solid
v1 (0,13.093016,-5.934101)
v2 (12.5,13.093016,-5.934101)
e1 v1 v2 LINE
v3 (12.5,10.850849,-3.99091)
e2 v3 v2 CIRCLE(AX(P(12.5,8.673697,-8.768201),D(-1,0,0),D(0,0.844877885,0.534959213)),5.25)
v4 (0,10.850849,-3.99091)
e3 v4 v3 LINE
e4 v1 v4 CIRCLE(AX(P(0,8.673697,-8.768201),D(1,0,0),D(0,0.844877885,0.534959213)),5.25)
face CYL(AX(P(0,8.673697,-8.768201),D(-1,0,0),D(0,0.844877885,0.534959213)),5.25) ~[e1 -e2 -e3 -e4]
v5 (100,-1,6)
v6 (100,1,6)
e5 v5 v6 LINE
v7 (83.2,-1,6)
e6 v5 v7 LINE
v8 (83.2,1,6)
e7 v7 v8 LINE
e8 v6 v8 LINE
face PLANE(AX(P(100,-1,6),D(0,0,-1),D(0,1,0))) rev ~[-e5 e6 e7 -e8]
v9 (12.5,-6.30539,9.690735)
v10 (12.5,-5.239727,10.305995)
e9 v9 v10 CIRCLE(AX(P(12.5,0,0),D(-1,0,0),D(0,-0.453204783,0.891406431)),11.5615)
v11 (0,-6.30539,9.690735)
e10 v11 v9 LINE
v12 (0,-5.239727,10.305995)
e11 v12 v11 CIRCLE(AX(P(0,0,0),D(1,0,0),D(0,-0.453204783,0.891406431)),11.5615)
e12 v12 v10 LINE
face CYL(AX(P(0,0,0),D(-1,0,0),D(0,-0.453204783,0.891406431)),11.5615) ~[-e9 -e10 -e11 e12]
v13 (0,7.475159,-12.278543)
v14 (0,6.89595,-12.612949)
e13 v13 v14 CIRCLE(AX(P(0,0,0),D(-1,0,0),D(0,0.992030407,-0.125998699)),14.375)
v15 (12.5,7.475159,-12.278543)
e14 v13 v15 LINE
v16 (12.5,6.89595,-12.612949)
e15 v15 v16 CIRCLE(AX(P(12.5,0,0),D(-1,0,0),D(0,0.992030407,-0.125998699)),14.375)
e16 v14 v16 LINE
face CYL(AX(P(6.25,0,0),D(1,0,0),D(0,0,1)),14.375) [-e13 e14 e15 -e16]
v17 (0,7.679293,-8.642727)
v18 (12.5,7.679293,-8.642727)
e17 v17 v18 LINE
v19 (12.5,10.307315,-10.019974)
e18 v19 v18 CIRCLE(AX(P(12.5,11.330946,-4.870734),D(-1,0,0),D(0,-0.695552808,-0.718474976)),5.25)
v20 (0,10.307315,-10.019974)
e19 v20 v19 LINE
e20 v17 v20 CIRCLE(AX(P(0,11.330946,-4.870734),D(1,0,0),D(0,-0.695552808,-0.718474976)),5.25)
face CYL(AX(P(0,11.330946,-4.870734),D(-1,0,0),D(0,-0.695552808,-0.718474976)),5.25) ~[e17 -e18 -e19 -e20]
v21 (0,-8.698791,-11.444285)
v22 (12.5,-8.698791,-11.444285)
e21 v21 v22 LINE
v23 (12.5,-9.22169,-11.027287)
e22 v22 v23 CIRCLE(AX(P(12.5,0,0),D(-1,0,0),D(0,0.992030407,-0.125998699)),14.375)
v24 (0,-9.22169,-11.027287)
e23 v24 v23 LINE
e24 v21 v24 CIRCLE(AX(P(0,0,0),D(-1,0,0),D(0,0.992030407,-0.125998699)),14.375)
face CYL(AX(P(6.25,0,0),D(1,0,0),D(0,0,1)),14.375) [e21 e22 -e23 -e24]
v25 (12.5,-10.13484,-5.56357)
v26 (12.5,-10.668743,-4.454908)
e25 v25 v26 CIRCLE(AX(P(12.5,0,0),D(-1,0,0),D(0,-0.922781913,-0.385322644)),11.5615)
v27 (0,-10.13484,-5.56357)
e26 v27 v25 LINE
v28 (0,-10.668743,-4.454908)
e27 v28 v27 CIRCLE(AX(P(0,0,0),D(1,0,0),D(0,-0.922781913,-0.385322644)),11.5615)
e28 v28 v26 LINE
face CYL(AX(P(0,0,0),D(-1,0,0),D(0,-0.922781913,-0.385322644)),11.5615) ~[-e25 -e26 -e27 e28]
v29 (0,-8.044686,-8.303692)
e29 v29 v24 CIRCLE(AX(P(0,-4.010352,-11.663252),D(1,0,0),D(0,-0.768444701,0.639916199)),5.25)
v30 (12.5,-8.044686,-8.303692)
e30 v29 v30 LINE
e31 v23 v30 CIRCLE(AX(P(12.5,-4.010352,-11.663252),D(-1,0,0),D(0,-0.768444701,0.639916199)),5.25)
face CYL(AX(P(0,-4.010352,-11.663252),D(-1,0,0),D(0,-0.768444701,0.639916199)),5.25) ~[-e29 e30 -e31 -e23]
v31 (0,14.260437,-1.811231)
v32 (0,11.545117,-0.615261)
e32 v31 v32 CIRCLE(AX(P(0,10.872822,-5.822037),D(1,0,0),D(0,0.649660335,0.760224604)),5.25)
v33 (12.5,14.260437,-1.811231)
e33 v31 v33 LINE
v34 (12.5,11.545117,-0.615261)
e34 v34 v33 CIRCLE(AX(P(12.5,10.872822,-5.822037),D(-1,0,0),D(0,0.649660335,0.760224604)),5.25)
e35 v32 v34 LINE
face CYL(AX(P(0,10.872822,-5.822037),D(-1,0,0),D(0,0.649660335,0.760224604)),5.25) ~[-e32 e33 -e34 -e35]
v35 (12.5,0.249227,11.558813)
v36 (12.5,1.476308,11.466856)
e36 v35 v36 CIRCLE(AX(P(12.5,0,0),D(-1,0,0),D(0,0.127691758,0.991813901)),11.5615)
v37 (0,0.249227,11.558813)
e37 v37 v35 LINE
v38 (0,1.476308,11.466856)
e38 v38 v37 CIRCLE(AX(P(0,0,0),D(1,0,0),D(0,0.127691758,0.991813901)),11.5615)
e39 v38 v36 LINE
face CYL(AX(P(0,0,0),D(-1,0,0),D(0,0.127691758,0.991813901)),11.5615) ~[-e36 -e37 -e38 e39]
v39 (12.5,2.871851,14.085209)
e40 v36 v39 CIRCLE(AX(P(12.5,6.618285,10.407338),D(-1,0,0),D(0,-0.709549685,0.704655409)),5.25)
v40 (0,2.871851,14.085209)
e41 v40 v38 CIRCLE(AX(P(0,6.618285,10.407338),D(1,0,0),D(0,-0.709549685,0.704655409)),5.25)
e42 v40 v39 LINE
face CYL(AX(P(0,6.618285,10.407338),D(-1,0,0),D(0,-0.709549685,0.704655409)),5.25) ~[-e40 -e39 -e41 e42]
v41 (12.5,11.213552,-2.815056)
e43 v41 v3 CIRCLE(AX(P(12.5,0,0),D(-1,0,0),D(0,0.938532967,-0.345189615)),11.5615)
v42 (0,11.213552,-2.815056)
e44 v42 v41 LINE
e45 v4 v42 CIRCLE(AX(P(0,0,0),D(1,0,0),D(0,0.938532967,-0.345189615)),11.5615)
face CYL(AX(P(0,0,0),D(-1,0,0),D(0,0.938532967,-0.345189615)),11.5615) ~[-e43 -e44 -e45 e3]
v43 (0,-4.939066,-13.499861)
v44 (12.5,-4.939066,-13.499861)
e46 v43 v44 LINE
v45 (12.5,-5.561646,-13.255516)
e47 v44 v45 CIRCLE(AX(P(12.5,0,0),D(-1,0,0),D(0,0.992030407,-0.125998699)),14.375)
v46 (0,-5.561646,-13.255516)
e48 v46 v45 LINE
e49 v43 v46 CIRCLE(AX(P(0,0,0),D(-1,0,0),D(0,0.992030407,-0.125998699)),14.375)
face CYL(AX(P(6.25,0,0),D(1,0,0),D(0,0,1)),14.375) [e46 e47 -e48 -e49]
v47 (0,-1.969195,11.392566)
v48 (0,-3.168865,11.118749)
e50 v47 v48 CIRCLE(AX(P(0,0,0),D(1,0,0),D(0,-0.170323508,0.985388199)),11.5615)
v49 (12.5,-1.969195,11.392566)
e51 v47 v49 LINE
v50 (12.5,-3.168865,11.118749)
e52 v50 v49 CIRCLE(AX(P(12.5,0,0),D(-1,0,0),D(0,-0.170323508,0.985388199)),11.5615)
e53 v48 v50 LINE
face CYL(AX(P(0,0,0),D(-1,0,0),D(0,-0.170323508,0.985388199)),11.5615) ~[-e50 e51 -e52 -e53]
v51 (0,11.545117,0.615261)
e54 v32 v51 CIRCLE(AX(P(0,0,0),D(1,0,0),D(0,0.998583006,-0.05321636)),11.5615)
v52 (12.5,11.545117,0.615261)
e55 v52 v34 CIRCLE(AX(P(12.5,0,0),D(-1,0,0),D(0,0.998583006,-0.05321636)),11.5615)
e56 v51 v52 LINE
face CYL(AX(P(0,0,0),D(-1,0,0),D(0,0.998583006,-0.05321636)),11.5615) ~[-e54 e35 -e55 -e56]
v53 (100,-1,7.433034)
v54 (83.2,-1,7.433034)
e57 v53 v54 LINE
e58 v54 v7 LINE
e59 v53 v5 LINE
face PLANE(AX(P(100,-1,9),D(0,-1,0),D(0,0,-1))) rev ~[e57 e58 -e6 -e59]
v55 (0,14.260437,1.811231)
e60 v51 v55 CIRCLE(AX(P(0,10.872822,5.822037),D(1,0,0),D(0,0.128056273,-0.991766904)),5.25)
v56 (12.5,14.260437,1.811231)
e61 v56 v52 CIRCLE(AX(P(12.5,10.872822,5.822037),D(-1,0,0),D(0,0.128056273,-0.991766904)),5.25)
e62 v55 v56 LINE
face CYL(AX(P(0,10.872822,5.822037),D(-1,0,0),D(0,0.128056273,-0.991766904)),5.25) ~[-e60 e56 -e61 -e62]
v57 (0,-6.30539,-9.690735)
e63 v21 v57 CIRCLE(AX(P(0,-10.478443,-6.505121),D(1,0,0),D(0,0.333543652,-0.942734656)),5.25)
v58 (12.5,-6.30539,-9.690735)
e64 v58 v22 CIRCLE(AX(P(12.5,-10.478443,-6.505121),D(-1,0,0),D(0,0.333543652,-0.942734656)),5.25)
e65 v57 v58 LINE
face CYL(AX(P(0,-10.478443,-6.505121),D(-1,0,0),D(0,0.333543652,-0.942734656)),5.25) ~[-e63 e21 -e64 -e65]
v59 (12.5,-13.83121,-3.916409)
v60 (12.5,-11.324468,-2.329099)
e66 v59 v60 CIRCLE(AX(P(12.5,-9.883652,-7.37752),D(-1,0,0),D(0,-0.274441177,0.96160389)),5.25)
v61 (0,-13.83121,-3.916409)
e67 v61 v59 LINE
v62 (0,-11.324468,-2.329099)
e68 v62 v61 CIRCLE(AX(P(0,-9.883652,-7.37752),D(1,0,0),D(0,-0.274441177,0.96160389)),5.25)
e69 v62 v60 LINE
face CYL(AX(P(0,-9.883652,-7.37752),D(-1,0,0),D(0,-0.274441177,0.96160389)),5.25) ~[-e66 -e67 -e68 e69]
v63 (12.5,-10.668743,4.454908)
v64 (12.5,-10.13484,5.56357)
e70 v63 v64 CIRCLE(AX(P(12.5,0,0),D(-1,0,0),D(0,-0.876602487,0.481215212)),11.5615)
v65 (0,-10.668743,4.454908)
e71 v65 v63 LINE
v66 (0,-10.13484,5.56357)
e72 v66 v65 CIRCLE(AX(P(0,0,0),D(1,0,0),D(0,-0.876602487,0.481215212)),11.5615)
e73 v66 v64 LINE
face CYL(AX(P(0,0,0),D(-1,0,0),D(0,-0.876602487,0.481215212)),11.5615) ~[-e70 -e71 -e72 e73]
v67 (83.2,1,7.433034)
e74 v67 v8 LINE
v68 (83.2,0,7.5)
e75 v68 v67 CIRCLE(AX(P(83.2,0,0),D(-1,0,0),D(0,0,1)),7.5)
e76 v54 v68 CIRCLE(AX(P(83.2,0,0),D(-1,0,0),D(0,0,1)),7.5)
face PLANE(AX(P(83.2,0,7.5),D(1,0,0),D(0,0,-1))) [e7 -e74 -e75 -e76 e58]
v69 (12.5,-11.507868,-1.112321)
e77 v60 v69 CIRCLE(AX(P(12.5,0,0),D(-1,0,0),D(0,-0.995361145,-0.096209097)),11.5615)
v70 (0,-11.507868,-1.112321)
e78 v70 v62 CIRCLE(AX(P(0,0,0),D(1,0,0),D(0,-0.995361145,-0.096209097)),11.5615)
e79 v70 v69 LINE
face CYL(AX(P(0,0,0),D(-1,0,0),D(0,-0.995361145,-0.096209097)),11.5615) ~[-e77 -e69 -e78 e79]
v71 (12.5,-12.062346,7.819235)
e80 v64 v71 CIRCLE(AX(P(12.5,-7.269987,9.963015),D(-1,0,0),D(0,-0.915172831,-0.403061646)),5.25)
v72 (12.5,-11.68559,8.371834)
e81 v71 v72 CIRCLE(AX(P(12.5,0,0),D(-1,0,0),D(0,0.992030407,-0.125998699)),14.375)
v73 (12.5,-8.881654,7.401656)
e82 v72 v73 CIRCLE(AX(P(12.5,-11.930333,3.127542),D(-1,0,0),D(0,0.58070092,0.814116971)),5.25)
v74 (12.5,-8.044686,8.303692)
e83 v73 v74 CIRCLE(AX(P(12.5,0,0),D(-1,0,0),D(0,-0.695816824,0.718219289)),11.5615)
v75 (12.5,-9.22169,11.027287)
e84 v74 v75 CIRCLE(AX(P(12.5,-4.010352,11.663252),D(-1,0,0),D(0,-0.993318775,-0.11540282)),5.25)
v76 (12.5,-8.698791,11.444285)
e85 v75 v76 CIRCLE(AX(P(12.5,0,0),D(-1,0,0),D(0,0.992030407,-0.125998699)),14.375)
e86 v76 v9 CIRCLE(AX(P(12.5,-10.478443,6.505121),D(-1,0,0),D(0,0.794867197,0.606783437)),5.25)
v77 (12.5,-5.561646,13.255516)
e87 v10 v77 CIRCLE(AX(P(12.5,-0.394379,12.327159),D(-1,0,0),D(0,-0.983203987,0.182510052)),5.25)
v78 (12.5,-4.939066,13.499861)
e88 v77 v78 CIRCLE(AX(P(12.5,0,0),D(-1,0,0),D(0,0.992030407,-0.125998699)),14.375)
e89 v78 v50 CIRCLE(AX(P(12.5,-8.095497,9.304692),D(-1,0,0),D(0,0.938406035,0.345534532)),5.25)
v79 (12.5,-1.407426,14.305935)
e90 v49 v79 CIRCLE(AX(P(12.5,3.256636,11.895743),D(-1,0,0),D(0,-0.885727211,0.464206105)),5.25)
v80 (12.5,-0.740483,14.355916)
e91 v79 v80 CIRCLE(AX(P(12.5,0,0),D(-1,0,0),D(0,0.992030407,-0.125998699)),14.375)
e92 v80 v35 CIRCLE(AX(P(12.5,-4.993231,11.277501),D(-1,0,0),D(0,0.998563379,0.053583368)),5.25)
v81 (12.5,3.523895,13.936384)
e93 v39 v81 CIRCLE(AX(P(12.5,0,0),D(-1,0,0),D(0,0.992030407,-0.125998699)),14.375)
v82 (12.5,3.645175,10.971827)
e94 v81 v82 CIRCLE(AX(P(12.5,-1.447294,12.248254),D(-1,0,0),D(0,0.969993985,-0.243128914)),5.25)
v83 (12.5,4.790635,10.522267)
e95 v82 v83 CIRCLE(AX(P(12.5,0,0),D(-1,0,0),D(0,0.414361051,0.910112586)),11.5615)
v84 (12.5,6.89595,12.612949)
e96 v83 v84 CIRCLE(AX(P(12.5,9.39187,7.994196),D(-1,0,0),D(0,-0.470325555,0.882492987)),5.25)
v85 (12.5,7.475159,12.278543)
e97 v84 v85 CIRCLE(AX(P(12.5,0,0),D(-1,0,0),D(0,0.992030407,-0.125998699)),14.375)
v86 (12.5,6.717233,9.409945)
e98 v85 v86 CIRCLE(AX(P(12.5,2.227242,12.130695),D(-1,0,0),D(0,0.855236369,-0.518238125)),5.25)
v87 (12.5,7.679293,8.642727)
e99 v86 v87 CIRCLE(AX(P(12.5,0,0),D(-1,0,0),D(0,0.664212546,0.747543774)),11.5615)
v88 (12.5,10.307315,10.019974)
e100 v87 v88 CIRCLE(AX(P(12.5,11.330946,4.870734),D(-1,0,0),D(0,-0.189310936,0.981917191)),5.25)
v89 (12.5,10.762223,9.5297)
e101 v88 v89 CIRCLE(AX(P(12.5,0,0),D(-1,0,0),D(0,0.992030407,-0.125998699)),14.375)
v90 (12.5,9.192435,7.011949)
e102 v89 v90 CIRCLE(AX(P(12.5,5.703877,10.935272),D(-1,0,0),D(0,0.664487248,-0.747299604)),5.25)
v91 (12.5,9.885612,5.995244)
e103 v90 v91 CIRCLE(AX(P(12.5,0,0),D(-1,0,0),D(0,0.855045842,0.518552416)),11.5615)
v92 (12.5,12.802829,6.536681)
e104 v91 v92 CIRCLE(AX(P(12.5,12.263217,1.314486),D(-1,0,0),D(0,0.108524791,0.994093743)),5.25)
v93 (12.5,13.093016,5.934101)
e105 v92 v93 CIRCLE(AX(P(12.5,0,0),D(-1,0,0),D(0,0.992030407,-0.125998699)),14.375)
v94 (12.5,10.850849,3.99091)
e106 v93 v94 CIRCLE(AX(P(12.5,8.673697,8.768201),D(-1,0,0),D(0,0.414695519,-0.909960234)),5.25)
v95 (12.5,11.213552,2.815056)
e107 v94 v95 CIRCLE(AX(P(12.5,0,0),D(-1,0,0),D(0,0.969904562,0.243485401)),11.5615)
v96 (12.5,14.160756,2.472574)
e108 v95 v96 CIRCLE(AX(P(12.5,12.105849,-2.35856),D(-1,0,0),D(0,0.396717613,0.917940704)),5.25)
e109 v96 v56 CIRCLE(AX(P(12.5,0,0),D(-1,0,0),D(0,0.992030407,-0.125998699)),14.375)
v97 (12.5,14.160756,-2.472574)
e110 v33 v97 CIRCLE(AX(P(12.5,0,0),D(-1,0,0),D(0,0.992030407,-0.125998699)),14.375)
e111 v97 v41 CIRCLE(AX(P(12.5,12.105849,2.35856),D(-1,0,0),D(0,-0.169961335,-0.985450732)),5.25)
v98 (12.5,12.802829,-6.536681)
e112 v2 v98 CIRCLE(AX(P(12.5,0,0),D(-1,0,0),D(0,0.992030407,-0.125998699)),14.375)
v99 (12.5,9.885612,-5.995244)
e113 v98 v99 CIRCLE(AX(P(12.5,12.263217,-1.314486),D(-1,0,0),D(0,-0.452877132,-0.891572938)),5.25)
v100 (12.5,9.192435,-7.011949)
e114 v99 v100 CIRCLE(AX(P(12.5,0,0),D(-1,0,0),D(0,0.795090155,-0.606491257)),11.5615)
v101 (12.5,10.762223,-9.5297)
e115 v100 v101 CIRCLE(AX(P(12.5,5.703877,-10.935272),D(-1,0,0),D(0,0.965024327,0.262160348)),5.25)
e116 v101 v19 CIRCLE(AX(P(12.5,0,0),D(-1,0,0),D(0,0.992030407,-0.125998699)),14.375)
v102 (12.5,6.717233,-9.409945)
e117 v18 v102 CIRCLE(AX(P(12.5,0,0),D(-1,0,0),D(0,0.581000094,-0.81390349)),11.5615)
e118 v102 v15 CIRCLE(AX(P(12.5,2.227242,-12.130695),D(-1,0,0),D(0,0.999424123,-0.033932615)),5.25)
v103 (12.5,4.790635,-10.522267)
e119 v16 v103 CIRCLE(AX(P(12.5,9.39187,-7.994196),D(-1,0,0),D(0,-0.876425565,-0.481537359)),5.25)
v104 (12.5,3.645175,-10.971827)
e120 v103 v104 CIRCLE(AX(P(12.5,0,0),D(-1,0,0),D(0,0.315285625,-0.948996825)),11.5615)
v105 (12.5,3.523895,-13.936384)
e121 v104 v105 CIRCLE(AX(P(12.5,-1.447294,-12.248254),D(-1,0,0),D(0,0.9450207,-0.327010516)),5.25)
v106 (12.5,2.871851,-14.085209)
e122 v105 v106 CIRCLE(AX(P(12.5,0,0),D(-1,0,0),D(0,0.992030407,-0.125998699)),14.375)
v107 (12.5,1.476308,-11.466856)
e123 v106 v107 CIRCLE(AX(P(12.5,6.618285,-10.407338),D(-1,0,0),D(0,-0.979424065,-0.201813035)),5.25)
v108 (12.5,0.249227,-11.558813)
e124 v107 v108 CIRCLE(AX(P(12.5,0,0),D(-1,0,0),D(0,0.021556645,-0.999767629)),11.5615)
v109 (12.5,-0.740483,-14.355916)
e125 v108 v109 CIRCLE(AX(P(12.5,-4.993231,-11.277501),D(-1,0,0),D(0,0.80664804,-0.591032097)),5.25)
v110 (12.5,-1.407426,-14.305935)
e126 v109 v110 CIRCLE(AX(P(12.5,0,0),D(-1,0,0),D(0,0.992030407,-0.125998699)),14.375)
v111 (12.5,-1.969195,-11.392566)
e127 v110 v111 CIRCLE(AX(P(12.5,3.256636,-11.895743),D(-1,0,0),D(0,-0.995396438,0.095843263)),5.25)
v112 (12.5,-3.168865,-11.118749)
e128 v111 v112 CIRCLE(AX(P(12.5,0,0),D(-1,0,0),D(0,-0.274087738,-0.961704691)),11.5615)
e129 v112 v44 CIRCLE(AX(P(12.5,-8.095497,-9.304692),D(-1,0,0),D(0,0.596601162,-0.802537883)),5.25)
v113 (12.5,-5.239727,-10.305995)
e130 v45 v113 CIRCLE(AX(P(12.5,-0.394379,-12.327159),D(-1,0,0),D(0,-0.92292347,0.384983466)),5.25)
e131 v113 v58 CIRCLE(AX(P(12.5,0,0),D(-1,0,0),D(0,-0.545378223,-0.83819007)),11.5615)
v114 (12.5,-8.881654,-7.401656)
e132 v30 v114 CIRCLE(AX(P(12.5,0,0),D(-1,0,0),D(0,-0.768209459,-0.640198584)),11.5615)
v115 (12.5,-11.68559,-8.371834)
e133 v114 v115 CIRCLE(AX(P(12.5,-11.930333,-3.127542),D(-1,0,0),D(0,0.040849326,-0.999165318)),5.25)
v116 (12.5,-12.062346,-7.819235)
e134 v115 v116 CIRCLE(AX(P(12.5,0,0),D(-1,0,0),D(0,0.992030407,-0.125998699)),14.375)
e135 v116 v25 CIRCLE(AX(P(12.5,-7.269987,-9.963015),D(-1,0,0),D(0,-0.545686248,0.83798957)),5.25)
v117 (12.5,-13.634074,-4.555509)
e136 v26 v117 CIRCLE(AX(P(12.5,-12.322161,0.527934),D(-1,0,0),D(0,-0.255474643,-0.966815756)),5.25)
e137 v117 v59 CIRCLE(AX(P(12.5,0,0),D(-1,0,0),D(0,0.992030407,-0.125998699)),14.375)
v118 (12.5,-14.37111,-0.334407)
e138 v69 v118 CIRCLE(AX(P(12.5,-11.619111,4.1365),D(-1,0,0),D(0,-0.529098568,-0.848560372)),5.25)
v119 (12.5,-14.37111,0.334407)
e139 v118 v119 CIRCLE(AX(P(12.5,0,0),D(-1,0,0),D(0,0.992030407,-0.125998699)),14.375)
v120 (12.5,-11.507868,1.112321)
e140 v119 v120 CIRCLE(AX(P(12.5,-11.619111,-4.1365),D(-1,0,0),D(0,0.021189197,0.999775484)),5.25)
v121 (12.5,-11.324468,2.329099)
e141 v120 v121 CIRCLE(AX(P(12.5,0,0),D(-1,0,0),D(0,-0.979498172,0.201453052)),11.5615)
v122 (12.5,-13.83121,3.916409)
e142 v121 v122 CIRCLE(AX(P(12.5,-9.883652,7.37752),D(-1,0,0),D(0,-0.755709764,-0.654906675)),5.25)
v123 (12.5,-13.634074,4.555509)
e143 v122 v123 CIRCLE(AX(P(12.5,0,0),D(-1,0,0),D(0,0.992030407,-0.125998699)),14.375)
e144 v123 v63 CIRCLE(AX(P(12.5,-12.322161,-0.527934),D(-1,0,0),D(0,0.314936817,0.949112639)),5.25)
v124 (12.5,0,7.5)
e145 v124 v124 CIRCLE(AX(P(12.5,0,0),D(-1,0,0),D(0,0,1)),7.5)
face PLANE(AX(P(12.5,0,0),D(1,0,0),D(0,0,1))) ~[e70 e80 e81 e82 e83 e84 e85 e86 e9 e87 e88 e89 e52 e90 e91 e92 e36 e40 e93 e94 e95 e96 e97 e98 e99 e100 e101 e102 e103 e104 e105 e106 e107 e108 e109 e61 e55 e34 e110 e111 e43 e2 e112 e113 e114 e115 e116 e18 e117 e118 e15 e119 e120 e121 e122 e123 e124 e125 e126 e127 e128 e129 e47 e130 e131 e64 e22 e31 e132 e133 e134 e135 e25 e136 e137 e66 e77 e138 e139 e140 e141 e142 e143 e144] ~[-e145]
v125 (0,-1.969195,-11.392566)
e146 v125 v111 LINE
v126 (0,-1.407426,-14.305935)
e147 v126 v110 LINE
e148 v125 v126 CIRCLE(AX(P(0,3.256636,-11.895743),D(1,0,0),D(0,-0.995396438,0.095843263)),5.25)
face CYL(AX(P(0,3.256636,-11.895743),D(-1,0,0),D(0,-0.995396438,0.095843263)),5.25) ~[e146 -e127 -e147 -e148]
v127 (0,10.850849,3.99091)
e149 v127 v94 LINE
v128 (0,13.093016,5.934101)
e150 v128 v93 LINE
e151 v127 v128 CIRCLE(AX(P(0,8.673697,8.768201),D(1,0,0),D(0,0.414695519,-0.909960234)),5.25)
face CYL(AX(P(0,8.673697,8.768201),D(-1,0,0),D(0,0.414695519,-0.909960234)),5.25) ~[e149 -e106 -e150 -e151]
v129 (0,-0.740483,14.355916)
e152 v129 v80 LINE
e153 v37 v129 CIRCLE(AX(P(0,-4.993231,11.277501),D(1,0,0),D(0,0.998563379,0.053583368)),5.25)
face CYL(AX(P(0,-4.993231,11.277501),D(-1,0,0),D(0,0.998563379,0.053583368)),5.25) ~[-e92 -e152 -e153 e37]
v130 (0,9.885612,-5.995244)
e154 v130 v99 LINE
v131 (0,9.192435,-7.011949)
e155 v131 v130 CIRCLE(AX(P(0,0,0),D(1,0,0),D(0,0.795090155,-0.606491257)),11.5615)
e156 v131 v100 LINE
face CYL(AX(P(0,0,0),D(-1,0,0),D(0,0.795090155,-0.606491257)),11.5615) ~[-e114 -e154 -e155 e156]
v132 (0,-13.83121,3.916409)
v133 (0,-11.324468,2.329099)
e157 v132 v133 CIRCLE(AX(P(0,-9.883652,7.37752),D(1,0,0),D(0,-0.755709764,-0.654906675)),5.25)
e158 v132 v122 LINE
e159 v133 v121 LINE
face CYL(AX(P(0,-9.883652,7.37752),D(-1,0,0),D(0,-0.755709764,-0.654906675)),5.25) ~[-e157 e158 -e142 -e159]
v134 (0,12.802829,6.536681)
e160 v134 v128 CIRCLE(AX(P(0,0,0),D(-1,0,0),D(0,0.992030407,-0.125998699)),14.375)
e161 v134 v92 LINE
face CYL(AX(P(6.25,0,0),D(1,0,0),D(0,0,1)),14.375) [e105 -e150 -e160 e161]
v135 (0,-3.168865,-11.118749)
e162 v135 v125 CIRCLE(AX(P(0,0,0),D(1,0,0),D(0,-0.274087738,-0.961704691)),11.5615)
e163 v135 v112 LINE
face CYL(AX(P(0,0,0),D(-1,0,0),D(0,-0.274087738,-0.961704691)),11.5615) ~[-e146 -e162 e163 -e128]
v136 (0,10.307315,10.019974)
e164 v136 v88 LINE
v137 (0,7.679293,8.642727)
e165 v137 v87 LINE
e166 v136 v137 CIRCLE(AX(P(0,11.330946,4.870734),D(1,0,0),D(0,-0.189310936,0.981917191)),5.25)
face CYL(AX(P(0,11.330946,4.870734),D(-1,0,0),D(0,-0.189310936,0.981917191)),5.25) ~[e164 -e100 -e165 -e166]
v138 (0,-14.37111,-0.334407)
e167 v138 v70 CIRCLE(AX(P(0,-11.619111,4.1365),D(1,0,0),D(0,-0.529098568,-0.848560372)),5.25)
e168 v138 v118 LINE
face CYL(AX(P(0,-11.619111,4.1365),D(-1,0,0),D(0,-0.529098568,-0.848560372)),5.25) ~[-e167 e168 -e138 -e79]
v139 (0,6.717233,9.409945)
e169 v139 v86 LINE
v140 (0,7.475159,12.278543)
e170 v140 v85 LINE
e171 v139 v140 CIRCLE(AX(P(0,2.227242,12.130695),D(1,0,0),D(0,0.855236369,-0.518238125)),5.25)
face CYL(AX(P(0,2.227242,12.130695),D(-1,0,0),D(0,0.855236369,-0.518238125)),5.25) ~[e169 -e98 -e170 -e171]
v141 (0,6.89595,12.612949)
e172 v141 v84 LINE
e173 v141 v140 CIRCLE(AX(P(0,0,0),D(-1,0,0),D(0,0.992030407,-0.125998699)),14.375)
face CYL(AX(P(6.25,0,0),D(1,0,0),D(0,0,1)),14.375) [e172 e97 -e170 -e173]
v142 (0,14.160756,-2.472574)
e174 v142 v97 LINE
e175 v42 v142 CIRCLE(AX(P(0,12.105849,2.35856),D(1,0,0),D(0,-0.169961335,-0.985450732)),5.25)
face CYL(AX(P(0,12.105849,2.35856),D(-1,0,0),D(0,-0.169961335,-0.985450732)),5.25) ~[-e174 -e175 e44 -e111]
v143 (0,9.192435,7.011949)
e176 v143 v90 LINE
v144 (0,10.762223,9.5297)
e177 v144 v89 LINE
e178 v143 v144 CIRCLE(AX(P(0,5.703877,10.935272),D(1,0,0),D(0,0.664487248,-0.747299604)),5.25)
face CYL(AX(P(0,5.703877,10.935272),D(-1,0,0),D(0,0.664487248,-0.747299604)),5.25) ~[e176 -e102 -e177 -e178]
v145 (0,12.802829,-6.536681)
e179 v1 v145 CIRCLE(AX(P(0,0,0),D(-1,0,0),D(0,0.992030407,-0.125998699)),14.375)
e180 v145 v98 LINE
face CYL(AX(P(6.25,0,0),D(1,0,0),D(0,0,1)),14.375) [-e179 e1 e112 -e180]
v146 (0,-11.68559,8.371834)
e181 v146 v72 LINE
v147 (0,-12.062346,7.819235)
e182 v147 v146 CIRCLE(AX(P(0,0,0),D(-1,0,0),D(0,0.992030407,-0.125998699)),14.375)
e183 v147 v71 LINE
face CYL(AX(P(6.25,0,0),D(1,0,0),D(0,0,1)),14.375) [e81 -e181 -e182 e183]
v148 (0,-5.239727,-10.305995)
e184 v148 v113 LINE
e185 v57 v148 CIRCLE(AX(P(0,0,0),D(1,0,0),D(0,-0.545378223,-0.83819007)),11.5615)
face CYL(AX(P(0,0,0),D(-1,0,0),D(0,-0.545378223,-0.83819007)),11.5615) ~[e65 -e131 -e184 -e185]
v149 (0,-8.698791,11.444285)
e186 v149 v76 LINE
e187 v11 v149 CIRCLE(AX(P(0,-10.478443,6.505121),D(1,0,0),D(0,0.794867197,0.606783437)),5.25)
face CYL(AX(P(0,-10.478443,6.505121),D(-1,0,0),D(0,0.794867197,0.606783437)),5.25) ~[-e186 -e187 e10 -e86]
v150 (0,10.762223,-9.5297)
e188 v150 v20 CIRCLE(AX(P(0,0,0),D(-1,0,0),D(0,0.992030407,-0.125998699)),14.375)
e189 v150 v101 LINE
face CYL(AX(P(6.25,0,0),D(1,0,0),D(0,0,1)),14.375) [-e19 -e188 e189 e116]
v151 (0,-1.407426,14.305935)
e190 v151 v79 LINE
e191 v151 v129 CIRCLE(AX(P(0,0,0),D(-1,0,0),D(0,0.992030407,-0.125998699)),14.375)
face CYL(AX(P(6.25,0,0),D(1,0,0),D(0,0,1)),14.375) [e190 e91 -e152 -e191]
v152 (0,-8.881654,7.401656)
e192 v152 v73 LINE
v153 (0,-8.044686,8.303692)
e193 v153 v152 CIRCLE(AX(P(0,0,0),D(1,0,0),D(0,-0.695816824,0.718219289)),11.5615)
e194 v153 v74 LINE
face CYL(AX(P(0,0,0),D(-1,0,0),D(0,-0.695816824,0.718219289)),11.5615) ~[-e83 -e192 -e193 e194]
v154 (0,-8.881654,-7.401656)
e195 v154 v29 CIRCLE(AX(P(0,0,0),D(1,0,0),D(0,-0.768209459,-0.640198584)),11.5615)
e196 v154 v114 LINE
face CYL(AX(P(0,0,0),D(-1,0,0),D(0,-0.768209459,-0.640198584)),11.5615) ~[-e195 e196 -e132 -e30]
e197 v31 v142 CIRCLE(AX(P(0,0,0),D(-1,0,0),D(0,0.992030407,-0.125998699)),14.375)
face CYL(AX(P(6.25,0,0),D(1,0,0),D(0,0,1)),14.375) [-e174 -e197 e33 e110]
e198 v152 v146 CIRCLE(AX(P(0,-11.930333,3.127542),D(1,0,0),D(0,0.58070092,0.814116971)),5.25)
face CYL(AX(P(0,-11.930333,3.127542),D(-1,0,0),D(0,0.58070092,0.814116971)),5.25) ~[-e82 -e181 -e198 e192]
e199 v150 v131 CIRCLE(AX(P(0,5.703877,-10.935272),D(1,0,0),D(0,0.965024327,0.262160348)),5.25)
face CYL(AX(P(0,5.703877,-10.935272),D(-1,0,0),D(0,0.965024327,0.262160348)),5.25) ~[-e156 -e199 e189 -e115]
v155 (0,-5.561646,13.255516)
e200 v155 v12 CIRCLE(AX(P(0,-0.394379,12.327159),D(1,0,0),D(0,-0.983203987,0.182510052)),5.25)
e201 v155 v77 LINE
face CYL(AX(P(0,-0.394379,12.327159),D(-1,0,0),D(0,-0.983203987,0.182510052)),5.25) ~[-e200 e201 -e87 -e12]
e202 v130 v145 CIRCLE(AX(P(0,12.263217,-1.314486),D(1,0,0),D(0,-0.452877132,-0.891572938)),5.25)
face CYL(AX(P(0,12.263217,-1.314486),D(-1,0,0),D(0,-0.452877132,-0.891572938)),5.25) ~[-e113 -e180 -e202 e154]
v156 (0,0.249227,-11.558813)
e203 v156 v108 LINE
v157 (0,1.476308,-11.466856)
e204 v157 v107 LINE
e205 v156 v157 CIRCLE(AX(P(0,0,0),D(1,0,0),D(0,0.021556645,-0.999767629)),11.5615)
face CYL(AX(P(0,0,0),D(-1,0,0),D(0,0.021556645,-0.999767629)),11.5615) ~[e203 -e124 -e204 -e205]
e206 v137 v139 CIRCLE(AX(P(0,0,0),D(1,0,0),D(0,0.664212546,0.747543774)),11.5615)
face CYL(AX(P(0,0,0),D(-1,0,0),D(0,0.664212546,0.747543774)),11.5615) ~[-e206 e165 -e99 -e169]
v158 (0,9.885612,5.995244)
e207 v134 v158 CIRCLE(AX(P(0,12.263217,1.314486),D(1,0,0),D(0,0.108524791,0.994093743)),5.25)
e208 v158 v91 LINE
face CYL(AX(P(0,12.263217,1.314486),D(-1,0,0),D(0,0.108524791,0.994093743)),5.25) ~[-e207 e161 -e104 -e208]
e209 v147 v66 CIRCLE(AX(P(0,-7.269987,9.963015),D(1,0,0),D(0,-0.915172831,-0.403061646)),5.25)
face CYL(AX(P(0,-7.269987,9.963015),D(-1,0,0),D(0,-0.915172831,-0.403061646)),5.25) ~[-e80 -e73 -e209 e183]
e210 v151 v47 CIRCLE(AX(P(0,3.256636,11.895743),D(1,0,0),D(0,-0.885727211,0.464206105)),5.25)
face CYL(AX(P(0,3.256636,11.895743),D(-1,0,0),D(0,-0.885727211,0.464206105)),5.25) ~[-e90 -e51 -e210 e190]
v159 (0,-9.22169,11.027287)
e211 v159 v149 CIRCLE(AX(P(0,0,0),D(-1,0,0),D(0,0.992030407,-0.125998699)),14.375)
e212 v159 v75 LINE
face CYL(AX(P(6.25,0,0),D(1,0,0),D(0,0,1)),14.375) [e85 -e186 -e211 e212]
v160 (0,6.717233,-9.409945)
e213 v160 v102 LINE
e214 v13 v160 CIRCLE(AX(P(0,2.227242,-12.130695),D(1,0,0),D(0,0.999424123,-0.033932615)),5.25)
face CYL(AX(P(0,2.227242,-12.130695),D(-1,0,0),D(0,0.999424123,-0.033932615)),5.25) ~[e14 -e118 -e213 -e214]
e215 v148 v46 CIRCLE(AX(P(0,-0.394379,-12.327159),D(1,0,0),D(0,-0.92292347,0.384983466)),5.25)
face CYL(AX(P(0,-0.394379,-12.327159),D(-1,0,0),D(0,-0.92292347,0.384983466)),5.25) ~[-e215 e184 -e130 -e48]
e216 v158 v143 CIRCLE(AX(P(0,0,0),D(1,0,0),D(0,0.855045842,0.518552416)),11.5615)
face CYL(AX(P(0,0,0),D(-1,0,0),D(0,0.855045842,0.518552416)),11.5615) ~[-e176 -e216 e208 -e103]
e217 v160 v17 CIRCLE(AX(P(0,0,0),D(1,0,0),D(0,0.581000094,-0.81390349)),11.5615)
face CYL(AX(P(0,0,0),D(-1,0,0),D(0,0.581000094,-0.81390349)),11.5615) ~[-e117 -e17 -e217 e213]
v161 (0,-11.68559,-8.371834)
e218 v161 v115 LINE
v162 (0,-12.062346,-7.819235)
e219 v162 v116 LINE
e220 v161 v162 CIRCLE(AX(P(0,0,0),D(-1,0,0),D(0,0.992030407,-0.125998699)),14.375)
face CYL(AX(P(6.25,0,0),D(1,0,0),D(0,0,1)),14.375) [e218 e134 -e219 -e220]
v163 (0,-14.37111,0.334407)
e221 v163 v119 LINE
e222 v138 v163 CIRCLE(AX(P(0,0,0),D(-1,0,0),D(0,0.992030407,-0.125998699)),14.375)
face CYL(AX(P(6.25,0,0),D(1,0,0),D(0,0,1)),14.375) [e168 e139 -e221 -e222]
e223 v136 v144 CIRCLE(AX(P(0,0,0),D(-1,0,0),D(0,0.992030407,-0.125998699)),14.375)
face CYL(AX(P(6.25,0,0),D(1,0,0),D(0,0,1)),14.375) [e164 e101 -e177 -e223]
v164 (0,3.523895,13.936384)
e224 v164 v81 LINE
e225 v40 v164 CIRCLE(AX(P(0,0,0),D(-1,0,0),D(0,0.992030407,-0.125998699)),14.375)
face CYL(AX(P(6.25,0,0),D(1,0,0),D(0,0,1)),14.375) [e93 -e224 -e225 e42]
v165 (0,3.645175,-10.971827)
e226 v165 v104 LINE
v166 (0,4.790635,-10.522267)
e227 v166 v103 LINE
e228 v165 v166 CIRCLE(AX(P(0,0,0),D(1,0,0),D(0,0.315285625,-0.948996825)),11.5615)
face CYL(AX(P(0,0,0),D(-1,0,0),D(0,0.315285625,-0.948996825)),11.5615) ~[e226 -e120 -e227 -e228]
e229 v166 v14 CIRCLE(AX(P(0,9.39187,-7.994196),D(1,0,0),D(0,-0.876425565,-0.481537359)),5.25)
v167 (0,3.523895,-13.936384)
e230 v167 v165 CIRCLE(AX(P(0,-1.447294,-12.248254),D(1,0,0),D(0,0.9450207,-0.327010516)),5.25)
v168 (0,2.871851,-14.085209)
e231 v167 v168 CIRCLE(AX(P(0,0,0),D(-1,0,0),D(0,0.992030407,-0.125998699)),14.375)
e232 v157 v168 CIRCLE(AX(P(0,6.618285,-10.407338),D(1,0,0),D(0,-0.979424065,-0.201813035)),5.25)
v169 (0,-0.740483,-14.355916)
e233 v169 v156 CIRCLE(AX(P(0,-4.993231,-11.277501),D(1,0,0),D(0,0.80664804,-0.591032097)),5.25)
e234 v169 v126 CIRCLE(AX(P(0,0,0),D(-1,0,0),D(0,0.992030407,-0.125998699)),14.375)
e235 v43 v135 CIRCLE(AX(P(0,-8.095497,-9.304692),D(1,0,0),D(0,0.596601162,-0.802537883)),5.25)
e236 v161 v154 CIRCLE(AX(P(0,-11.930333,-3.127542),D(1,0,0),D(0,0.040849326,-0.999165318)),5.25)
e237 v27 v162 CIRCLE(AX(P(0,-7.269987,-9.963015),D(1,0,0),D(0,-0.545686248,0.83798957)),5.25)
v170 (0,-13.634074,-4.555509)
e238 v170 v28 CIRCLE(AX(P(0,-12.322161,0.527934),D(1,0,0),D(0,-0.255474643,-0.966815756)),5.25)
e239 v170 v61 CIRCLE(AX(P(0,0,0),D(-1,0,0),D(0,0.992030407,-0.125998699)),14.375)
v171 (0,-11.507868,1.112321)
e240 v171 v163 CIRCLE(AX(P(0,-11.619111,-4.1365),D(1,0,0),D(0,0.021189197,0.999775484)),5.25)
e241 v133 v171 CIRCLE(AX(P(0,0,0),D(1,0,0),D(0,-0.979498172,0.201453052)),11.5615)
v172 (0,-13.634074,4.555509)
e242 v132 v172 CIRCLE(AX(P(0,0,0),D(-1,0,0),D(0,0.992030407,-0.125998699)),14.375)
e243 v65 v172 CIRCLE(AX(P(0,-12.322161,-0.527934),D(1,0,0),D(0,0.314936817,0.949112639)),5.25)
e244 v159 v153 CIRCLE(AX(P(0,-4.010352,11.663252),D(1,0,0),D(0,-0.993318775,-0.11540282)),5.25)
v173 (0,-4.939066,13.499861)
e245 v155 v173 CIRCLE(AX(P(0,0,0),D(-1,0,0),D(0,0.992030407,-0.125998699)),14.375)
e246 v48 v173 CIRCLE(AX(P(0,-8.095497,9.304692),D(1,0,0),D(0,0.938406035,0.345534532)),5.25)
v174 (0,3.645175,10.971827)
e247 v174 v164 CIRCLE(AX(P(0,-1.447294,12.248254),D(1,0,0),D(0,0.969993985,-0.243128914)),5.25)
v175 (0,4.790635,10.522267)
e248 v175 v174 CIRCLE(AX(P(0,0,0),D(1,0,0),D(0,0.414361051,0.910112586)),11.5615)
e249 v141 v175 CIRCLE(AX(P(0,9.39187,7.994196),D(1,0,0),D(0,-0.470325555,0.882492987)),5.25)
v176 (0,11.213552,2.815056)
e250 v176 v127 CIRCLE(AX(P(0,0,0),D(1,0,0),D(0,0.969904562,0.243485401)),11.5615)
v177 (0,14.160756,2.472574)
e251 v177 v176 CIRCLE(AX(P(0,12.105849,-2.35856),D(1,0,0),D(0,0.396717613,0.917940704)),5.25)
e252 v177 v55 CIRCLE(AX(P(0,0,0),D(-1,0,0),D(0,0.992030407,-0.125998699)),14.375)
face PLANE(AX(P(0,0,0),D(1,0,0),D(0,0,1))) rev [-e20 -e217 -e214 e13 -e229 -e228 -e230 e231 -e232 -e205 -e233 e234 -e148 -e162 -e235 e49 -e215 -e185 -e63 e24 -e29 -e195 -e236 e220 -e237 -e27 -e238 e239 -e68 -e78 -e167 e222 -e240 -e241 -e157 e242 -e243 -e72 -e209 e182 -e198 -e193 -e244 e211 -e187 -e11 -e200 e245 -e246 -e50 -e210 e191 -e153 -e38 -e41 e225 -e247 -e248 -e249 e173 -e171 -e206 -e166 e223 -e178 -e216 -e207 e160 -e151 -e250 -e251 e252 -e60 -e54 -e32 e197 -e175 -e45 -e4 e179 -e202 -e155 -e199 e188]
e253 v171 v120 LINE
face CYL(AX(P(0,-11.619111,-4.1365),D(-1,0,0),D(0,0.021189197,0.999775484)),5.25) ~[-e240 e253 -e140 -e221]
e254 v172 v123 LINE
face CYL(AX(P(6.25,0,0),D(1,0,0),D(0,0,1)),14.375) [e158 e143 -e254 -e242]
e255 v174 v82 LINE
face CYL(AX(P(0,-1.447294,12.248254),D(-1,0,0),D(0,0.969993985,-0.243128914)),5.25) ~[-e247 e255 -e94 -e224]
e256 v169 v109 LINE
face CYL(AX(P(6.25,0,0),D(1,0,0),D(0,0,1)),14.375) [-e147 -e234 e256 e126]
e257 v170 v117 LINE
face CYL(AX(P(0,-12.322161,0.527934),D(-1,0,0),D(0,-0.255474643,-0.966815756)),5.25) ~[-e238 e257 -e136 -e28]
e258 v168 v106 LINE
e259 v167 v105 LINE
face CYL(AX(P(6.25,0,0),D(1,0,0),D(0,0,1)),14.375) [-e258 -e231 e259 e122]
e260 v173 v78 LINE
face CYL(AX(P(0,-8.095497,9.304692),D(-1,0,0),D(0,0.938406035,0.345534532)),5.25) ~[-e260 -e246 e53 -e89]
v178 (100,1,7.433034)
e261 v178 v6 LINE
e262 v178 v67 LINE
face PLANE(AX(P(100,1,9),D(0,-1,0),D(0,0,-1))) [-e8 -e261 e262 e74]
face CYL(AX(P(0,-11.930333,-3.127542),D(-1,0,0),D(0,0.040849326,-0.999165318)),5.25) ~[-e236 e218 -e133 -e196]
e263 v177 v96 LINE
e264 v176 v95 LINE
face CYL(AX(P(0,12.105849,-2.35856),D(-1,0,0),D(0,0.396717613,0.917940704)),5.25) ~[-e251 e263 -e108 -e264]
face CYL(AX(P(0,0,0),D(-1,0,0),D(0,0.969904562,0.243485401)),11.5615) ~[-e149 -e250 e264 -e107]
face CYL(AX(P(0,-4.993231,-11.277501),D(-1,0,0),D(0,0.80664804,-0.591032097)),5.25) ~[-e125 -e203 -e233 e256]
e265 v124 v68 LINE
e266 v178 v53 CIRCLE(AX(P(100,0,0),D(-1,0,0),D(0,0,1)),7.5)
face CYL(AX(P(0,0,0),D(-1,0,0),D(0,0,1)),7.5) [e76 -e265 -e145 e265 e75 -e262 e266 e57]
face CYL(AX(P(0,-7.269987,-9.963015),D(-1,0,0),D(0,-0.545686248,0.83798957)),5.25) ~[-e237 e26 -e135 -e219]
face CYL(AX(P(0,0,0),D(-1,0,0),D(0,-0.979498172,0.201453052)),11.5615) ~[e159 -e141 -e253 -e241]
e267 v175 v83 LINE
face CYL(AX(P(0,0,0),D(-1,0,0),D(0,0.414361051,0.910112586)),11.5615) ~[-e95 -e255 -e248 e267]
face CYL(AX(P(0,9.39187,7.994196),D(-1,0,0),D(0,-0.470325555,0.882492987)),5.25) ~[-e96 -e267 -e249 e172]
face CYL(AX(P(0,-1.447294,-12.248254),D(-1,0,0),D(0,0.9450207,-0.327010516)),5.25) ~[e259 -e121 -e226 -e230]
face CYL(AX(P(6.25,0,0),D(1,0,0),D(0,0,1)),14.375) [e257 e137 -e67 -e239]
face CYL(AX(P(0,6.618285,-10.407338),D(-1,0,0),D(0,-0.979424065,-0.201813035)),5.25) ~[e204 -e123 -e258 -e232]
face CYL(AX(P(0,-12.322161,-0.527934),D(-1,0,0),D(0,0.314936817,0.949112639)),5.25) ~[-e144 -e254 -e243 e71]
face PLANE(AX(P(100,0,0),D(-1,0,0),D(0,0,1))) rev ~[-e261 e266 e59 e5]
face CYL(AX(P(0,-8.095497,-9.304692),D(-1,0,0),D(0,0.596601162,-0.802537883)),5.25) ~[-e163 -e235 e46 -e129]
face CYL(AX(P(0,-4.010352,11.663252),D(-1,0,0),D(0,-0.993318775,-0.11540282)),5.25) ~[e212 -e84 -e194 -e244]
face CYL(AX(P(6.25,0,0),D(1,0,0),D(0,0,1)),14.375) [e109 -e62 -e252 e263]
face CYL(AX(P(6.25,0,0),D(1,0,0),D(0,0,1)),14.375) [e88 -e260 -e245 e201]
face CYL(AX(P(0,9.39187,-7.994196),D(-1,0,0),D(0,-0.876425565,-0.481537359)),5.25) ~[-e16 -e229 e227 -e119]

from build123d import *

# Parameters (mm, degrees)
BASPROSKE_W         = 12.5
BASPROSKE_H         = 14.375
TOOTHCUT_DEPTH      = 24.864853865
TEETHCUTS_COUNT     = 21
TEETHCUTS_ANGLE     = 342.857142857
BORSKE_R            = 4
BORE_DEPTH          = 50.0000508
SKETCH1_R           = 7.5
BOSS_EXTRUDE1_DEPTH = 100
SKETCH2_W           = 3
SKETCH2_H           = 2
CUT_EXTRUDE1_DEPTH  = 16.8


with BuildPart() as part:
    # BasProSke → Base-Revolve (revolve)
    with BuildSketch(Plane(origin=(0, 0, 0), x_dir=(1, 0, 0), z_dir=(0, 1, 0)), mode=Mode.PRIVATE) as base_revolve_sk:
        with Locations((6.25, 7.1875)):
            Rectangle(BASPROSKE_W, BASPROSKE_H)
    revolve(base_revolve_sk.sketch.rotate(Axis((-10, 0, 0), (1, 0, 0)), 180), axis=Axis((-10, 0, 0), (1, 0, 0)))

    # TooCutSke → ToothCut (cut, through all)
    with BuildSketch(Plane(origin=(0, 0, 0), x_dir=(0, 0, -1), z_dir=(1, 0, 0))):
        with BuildLine():
            ThreePointArc((0.615260942, 11.545117419), (0, 11.5615), (-0.615260942, 11.545117419))
            ThreePointArc((-0.615260942, 11.545117419), (-1.023565158, 13.002884474), (-1.830858013, 14.283538746))
            ThreePointArc((-1.830858013, 14.283538746), (0, 14.4004), (1.830858013, 14.283538746))
            ThreePointArc((1.830858013, 14.283538746), (1.023565158, 13.002884474), (0.615260942, 11.545117419))
        make_face()
    toothcut = extrude(amount=TOOTHCUT_DEPTH, mode=Mode.SUBTRACT)

    # TeethCuts: ToothCut ×21 about axis
    teethcuts_axis = Axis((-10, 0, 0), (1, 0, 0))
    for i in range(1, TEETHCUTS_COUNT):
        add(toothcut.rotate(teethcuts_axis, i * TEETHCUTS_ANGLE / (TEETHCUTS_COUNT - 1)), mode=Mode.SUBTRACT)

    # BorSke → Bore (cut, symmetric)
    with BuildSketch(Plane(origin=(0, 0, 0), x_dir=(0, 0, -1), z_dir=(1, 0, 0))):
        with Locations(Location((0, 0, 0), (0, 0, 180))):
            Circle(BORSKE_R)
    extrude(amount=BORE_DEPTH, both=True, mode=Mode.SUBTRACT)

    # Sketch1 → Boss-Extrude1 (add)
    with BuildSketch(Plane.ZY):
        Circle(SKETCH1_R)
    extrude(amount=-BOSS_EXTRUDE1_DEPTH)

    # Sketch2 → Cut-Extrude1 (cut)
    with BuildSketch(Plane(origin=(100, 0, 0), x_dir=(0, 0, -1), z_dir=(1, 0, 0))):
        with Locations((-7.5, 0)):
            Rectangle(SKETCH2_W, SKETCH2_H)
    extrude(amount=-CUT_EXTRUDE1_DEPTH, mode=Mode.SUBTRACT)


solid = part.part
